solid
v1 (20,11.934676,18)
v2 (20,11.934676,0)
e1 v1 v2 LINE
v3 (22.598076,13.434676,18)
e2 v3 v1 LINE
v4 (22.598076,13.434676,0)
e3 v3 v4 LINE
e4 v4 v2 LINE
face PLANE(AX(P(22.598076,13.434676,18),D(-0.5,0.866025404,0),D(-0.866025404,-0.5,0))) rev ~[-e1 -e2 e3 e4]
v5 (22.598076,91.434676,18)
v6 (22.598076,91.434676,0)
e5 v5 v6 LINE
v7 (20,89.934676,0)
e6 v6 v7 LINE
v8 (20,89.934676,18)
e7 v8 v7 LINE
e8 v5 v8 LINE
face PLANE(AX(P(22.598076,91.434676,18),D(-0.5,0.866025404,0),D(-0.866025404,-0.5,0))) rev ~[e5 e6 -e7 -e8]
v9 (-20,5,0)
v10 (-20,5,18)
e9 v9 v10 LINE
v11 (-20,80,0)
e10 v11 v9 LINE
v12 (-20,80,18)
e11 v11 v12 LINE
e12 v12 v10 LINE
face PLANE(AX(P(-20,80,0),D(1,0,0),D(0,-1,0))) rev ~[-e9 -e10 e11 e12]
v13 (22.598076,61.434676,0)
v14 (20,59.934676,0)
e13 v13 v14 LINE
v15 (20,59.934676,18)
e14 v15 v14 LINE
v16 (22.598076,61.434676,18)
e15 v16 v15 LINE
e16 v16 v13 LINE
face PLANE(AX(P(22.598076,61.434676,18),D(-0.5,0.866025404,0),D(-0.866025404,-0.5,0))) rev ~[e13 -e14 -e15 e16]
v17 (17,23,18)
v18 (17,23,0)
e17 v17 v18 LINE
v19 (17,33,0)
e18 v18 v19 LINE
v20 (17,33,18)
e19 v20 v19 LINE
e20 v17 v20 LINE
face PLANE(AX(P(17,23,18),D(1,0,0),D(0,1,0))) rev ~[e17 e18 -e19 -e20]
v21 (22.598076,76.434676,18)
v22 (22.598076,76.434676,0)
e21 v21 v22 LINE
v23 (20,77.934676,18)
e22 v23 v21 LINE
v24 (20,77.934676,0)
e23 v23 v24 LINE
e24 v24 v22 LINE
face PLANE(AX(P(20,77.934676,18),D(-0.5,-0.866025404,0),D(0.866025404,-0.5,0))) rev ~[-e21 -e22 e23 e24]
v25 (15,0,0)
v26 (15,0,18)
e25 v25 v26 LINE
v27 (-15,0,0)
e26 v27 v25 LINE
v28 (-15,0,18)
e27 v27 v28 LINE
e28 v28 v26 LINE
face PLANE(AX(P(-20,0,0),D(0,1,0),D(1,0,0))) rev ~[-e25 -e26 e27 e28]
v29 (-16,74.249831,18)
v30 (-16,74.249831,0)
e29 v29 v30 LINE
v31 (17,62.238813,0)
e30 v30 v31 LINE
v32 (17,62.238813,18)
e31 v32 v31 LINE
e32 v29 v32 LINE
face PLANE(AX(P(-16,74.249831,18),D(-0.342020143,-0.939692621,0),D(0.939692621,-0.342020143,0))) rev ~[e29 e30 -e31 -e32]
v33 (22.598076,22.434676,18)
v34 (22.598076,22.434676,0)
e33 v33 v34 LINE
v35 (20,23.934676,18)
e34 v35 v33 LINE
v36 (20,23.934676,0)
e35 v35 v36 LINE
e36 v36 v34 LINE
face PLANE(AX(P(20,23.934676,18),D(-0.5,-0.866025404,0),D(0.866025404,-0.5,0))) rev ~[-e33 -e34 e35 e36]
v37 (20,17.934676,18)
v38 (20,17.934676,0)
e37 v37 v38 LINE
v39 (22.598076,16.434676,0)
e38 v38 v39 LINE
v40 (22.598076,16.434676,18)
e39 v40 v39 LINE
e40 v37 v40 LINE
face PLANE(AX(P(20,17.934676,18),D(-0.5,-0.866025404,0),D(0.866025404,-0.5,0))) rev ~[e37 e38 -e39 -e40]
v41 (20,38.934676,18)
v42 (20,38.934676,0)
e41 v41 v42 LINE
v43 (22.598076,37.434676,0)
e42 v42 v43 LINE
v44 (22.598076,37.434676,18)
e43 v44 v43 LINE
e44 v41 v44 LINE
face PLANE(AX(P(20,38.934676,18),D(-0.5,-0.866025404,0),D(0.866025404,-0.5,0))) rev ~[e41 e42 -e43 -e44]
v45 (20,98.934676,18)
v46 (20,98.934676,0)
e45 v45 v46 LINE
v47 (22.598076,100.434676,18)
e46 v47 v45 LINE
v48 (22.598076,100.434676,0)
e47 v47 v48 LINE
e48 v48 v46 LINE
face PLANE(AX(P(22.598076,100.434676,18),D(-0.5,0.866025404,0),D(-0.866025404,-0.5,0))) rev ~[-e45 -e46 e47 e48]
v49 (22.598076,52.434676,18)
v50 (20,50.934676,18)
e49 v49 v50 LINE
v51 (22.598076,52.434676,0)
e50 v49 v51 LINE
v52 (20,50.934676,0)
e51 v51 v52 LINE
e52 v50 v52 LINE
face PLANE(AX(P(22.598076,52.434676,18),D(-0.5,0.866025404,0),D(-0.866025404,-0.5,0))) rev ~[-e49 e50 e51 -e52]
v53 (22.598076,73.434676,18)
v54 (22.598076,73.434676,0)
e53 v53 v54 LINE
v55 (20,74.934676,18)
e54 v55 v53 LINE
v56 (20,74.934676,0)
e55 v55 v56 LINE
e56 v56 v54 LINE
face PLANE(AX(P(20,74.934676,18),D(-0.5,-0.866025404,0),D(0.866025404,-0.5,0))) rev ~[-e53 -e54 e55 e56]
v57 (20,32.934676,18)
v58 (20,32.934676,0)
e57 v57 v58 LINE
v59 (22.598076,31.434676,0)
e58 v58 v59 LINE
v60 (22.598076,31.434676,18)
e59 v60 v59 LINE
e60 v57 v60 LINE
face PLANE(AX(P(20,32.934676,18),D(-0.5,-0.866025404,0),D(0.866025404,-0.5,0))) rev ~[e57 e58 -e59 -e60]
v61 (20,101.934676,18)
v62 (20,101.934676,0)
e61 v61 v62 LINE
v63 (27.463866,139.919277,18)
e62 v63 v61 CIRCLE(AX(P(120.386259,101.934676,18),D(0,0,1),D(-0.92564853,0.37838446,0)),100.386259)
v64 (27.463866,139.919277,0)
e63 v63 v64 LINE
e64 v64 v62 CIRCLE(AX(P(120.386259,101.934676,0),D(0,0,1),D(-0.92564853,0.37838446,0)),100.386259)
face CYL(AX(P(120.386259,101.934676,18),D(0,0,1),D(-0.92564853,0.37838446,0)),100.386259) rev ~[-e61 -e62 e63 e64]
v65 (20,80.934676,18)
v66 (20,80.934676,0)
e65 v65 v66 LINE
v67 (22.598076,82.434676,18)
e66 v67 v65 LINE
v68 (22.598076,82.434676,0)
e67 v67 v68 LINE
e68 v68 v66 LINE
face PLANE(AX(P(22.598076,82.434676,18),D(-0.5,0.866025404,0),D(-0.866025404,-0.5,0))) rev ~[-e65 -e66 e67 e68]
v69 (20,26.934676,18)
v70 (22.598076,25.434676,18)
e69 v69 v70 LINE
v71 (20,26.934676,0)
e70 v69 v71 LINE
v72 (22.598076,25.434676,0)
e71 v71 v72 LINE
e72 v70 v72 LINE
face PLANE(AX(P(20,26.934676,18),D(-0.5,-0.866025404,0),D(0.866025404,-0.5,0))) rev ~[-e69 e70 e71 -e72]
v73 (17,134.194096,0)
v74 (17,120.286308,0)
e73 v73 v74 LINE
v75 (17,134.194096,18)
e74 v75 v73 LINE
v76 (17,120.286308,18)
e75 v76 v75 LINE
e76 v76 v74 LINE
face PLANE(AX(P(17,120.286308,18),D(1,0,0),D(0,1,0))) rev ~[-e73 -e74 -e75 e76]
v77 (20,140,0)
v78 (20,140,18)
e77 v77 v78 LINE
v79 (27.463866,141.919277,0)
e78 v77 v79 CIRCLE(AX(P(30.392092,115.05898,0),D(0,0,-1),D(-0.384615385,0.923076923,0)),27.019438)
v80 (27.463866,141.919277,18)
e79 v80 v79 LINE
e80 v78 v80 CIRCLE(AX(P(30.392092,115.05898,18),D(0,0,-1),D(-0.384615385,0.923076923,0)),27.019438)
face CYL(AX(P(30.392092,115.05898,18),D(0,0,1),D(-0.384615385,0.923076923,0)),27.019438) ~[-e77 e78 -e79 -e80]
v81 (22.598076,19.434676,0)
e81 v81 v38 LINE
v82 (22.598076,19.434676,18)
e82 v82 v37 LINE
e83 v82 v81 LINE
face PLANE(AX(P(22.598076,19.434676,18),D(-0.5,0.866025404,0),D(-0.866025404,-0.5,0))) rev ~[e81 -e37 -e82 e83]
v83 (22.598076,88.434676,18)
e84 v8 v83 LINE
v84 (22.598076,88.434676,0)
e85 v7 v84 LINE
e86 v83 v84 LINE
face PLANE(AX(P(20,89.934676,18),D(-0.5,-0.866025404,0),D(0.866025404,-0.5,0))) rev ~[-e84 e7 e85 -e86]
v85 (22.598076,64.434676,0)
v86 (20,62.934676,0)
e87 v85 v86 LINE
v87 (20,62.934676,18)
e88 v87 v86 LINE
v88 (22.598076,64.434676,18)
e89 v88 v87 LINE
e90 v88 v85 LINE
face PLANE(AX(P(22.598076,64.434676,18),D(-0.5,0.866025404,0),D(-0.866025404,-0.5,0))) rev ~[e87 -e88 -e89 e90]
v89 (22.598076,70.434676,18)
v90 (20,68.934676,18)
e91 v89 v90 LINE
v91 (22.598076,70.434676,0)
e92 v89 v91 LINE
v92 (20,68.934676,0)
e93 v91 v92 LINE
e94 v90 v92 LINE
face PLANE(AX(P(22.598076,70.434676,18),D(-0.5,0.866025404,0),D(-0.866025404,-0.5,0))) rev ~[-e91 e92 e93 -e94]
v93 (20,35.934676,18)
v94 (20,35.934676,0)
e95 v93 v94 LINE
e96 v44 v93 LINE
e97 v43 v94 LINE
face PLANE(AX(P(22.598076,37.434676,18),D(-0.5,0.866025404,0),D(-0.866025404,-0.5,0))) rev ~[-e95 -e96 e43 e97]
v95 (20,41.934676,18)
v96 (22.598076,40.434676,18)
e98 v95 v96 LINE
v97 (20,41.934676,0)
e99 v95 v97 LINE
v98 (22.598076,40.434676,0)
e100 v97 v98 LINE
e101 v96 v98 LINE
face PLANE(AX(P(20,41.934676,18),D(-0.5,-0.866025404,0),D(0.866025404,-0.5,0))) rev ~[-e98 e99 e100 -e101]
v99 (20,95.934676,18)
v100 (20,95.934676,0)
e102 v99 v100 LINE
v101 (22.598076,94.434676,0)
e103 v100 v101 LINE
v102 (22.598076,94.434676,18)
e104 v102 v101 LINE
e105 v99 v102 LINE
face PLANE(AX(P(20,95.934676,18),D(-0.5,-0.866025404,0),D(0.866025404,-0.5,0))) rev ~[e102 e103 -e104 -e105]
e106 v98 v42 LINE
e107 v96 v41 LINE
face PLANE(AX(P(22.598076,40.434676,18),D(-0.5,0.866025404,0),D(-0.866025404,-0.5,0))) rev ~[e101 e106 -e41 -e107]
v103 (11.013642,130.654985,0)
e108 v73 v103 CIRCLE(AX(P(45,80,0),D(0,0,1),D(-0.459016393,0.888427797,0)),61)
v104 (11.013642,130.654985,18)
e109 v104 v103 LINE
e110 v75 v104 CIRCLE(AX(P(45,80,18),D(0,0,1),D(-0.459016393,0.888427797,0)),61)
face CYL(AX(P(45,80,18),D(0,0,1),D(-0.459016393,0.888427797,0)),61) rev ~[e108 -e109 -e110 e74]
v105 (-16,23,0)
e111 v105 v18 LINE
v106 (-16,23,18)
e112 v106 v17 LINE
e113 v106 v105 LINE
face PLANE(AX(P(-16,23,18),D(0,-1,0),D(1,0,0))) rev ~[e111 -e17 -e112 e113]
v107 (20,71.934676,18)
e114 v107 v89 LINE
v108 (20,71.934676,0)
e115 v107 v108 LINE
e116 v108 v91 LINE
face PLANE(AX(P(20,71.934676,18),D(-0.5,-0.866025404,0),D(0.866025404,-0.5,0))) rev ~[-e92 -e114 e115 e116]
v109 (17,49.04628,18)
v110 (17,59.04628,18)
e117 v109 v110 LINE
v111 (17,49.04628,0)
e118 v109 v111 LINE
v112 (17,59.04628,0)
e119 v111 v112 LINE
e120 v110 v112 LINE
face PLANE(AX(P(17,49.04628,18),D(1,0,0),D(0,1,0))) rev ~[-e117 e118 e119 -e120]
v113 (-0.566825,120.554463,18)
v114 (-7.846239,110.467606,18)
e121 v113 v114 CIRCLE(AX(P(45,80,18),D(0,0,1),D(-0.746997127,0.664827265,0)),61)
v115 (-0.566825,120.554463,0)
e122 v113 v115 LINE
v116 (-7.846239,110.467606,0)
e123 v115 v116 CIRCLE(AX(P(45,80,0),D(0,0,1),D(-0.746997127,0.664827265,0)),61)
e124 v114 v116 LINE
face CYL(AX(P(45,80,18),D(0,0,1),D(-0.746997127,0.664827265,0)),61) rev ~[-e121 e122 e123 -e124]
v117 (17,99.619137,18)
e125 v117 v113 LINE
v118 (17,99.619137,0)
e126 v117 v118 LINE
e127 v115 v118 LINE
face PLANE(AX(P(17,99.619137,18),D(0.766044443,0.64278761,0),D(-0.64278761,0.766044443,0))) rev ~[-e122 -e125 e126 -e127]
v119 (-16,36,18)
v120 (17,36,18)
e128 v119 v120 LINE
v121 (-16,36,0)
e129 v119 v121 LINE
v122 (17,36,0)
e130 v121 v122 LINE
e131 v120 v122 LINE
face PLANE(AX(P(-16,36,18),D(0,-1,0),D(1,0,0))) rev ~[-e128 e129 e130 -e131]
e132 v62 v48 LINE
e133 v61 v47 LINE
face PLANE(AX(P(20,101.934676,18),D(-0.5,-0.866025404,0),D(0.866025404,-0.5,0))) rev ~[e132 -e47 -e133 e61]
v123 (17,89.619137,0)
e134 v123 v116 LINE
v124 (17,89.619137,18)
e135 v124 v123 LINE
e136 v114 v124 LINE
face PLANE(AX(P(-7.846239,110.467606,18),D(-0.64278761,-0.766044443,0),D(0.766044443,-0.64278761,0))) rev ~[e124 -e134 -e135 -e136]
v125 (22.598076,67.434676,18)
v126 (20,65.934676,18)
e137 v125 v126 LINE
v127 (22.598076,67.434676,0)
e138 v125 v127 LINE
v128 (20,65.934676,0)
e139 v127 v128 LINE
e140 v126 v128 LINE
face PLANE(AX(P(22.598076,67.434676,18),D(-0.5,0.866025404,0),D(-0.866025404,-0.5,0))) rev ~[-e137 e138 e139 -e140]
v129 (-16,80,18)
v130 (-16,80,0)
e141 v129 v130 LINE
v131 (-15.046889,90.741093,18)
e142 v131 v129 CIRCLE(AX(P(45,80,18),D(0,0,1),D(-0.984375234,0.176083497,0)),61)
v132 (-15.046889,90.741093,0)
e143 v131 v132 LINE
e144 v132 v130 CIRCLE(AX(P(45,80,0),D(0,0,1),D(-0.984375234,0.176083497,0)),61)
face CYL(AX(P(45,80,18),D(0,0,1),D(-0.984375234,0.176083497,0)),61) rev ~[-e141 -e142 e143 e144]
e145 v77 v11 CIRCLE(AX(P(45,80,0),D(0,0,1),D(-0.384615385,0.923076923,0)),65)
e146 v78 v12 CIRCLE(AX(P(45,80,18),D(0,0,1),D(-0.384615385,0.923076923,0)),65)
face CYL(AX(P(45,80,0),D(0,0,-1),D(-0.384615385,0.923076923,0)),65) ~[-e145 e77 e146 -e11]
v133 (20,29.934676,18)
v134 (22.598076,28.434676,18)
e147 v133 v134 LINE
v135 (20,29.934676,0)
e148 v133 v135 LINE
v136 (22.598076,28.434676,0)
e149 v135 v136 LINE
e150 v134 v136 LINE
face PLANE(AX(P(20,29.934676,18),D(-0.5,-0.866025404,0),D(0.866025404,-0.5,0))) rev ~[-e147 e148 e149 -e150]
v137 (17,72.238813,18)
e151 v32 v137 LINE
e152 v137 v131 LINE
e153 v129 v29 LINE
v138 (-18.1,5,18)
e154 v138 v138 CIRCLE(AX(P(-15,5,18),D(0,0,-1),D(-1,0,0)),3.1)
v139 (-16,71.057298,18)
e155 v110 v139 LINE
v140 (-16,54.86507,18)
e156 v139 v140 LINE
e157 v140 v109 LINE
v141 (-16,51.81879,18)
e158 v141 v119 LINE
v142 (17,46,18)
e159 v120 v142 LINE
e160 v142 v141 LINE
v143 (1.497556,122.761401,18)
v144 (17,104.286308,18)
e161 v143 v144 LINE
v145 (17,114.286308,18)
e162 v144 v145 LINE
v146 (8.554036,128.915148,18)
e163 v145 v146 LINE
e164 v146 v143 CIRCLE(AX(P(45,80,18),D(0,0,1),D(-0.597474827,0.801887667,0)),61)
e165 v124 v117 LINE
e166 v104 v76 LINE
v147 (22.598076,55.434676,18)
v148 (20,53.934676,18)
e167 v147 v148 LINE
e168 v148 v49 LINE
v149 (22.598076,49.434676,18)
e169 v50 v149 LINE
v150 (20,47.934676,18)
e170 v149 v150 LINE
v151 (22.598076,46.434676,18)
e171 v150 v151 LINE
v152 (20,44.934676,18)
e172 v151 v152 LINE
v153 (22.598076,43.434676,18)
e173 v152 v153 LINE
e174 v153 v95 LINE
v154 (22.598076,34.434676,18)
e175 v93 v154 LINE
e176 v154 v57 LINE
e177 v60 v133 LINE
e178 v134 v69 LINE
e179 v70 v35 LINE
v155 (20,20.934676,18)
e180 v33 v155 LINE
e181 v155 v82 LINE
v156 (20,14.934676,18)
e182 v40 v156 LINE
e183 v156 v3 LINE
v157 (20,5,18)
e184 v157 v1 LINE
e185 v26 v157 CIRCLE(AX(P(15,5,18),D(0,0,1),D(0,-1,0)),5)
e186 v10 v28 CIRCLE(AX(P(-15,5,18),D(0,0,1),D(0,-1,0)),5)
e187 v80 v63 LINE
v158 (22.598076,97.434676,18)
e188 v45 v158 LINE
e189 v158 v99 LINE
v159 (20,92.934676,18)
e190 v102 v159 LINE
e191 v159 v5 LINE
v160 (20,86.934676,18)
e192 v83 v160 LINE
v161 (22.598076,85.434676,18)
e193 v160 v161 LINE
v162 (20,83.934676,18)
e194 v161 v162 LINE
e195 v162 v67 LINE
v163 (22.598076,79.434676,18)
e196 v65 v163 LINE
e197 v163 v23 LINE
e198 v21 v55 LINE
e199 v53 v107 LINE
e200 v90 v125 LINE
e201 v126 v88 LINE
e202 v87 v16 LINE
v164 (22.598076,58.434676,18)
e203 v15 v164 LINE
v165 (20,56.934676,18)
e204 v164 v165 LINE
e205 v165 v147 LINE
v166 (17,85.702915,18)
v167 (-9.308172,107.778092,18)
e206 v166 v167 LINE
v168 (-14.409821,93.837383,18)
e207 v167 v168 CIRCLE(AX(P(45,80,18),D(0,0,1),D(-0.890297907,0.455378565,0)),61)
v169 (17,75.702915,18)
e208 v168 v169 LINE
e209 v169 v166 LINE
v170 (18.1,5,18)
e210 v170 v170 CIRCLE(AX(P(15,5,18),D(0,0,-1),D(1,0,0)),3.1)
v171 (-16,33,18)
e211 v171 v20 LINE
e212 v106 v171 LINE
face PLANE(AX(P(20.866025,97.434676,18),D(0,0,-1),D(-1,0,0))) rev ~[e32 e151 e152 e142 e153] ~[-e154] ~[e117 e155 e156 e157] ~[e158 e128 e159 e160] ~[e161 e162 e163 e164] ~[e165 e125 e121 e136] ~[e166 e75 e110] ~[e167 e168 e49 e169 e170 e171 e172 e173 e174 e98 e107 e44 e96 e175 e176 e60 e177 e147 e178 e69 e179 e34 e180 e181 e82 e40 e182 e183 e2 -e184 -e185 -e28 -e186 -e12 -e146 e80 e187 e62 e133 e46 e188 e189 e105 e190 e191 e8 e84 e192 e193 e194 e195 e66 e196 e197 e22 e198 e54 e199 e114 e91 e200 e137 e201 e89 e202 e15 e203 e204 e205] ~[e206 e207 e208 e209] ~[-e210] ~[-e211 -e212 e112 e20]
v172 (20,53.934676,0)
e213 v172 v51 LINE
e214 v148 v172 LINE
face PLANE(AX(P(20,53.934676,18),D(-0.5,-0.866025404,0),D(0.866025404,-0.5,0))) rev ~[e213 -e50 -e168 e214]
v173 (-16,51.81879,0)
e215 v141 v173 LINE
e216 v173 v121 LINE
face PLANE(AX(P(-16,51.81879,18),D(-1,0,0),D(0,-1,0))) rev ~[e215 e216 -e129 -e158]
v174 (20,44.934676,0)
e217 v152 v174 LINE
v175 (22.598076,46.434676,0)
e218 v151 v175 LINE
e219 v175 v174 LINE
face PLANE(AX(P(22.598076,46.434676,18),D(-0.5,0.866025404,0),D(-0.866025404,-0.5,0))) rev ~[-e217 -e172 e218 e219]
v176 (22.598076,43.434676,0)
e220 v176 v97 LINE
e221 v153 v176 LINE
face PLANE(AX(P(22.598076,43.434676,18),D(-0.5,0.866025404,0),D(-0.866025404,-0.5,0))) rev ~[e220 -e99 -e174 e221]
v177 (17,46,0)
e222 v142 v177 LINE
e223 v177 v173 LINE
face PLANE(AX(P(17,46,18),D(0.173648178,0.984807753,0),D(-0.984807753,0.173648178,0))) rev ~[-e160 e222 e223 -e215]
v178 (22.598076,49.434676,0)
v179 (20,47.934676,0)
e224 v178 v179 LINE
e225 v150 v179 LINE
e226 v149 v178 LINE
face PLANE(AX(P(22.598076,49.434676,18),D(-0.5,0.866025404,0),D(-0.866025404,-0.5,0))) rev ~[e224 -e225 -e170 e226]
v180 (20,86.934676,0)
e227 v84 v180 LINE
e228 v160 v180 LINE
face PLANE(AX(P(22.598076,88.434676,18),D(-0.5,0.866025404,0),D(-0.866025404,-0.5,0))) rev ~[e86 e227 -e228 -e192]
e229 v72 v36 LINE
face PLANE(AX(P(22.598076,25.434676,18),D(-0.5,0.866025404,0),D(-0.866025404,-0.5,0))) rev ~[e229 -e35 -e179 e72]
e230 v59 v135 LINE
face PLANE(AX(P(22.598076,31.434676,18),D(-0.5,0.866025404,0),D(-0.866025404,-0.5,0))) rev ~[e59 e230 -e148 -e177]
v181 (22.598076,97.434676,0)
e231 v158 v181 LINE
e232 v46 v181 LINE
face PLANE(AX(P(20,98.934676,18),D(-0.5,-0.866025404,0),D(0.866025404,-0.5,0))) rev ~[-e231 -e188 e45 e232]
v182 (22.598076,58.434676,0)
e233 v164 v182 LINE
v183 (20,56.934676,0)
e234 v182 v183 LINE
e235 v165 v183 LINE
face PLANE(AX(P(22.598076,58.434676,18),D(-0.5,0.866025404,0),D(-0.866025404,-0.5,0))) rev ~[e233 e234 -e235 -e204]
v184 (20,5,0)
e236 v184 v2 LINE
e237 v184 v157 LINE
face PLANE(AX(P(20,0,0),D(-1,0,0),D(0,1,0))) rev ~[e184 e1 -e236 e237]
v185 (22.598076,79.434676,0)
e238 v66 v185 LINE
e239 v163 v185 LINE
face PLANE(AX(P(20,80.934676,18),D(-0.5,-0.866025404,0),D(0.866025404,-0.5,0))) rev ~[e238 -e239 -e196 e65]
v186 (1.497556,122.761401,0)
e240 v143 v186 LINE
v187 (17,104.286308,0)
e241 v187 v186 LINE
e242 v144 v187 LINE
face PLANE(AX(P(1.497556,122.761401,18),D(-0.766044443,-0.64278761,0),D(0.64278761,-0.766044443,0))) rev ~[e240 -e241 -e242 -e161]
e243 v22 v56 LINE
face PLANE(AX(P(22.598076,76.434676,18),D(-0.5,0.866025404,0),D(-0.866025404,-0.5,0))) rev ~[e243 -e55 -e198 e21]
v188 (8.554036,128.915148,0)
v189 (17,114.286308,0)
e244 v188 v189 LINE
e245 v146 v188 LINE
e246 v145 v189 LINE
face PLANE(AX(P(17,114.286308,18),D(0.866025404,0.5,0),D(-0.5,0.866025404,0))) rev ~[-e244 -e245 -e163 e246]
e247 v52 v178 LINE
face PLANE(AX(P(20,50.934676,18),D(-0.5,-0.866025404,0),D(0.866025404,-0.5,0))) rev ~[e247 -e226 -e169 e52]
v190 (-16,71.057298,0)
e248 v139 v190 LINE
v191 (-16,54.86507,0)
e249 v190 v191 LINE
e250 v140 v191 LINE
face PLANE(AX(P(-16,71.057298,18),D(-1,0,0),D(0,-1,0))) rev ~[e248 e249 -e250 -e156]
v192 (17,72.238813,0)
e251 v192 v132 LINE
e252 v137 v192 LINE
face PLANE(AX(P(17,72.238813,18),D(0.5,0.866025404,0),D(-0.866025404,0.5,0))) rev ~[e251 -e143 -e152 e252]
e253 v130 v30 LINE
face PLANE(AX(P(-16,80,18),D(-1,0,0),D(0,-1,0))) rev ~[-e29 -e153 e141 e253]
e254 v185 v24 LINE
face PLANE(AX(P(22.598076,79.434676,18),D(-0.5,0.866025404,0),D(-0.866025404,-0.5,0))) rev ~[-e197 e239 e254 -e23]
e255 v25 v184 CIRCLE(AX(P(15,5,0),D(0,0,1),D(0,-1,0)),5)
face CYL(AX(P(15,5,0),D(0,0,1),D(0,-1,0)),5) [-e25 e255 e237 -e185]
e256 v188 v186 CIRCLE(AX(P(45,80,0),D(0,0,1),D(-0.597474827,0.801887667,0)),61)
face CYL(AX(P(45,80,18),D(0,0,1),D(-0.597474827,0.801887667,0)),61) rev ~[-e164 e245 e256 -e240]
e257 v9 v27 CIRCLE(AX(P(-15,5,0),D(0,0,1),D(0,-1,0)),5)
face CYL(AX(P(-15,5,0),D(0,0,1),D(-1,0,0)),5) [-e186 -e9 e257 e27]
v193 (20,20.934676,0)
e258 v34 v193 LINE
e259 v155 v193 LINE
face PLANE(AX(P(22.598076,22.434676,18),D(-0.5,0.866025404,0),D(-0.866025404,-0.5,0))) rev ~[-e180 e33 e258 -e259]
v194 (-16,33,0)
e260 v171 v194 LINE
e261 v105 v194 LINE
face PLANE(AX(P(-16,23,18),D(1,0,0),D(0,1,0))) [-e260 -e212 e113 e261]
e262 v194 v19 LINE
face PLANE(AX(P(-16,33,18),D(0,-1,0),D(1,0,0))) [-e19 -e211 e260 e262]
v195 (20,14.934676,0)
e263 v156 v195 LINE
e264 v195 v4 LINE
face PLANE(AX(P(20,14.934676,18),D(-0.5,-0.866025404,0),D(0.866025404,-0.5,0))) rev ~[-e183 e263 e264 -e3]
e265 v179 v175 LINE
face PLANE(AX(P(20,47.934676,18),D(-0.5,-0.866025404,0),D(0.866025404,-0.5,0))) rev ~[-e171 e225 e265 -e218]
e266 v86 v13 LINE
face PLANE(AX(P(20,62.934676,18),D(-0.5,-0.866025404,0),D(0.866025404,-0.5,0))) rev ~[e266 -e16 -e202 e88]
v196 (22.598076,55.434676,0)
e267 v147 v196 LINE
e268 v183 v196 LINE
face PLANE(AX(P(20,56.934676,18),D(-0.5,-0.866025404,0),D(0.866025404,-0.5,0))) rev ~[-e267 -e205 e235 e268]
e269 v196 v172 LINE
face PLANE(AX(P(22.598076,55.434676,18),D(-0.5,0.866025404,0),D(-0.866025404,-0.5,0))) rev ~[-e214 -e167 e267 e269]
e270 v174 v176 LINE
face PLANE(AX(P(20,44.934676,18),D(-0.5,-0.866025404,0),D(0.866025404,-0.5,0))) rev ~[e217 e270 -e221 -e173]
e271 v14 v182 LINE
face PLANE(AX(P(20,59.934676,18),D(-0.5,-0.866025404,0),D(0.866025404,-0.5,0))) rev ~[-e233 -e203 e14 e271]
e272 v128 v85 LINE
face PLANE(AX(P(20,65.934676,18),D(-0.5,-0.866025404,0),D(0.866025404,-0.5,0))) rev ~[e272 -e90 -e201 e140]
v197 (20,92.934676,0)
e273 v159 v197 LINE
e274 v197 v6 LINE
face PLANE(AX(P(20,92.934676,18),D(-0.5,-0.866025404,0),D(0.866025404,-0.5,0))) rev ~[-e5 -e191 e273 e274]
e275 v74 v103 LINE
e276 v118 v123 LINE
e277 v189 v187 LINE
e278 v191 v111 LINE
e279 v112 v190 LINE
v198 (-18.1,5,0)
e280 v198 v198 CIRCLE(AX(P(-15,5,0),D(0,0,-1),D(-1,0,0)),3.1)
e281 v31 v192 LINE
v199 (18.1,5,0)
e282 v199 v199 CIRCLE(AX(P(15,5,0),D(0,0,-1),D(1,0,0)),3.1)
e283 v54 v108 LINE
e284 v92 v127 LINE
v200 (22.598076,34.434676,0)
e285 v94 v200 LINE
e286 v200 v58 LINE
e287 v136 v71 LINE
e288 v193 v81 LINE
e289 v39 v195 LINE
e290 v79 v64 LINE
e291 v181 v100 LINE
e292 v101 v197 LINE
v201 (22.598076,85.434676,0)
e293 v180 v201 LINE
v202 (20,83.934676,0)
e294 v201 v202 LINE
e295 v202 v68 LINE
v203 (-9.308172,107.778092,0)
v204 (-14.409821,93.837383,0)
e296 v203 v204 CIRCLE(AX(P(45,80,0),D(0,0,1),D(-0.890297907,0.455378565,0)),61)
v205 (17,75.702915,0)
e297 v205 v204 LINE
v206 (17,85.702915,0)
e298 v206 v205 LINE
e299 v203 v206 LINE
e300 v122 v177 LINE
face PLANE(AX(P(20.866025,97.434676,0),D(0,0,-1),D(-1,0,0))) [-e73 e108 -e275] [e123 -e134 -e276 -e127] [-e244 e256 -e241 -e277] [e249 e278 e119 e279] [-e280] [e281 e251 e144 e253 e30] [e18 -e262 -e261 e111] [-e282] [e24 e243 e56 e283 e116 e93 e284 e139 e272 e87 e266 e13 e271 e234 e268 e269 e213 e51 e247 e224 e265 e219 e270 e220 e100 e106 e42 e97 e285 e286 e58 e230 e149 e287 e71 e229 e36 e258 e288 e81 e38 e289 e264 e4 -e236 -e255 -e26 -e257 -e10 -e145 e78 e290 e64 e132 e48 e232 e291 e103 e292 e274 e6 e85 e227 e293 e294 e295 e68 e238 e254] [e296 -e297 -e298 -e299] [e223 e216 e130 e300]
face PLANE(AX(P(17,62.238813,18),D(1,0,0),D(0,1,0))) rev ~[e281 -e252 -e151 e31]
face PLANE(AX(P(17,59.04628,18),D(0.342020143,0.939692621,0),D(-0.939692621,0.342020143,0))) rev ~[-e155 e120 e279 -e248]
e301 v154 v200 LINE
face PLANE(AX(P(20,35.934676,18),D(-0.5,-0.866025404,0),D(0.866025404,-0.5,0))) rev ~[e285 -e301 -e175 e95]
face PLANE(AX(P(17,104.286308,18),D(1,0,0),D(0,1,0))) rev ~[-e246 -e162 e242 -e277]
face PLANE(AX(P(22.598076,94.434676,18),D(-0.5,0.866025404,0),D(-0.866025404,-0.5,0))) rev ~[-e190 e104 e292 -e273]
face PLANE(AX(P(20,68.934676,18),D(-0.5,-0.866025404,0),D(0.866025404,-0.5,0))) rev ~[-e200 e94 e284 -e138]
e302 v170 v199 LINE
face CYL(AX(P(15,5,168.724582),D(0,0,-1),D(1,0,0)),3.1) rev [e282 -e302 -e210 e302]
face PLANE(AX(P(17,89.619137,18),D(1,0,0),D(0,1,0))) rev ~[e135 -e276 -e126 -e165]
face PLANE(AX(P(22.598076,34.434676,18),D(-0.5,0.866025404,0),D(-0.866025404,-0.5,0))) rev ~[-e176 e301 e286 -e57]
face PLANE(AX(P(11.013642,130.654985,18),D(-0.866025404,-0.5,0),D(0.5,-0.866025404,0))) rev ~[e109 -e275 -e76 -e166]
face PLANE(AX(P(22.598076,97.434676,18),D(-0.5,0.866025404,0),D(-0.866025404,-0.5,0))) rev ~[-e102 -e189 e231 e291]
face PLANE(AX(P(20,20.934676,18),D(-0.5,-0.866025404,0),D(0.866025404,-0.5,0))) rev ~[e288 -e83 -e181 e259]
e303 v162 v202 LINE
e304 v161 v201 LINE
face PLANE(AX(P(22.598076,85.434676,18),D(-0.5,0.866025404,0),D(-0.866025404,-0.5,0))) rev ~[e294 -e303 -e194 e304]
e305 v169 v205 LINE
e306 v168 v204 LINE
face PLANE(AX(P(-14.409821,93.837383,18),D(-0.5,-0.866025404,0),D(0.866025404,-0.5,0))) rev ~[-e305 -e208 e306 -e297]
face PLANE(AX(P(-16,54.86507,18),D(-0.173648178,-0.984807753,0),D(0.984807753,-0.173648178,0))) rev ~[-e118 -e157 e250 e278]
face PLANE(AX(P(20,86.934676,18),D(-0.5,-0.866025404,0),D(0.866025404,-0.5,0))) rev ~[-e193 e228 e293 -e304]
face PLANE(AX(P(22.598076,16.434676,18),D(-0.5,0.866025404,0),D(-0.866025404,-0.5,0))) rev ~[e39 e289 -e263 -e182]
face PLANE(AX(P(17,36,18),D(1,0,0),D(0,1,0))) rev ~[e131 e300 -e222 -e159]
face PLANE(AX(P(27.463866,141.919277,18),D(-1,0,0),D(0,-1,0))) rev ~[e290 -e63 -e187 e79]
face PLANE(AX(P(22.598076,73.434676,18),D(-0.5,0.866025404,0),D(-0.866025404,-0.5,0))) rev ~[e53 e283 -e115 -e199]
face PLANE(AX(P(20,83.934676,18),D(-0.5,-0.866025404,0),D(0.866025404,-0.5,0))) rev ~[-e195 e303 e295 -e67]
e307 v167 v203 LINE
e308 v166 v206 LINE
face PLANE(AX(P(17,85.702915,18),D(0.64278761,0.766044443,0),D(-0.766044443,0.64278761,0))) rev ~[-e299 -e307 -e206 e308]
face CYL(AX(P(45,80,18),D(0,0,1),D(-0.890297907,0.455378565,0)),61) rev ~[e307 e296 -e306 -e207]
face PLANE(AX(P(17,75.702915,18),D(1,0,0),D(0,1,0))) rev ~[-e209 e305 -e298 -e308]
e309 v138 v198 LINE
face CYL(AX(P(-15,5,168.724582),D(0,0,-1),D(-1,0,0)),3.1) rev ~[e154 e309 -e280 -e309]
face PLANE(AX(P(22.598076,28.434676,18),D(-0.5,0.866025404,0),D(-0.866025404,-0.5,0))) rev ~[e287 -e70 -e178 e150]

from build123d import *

# Parameters (mm, degrees)
BOSS_EXTRUDE1_DEPTH     = 18
SKETCH3_W               = 33
SKETCH3_H               = 10
CUT_EXTRUDE1_DEPTH      = 143.562267098
CUT_EXTRUDE2_DEPTH      = 143.562267098
CUT_EXTRUDE3_DEPTH      = 143.562267098
CUT_EXTRUDE4_DEPTH      = 143.562267098
BOSS_EXTRUDE2_DEPTH     = 18
BOSS_EXTRUDE3_DEPTH     = 18
LPATTERN1_COUNT         = 30
LPATTERN1_PITCH         = 3
CUT_EXTRUDE5_DEPTH      = 146.668613805
CUT_EXTRUDE6_DEPTH      = 146.668613805
CUT_EXTRUDE7_DEPTH      = 146.668613805
CUT_EXTRUDE8_DEPTH      = 146.668613805
FILLET1_R               = 5
F_6_0_MM_DOWEL_HOLES1_D = 6.2


with BuildPart() as part:
    # Sketch2 → Boss-Extrude1 (new body)
    with BuildSketch(Plane.XY):
        with BuildLine():
            Line((-20, 0), (20, 0))
            Line((20, 0), (20, 140))
            ThreePointArc((20, 140), (-9.083269132, 116.055512755), (-20, 80))
            Line((-20, 80), (-20, 0))
        make_face()
    extrude(amount=BOSS_EXTRUDE1_DEPTH)

    # Sketch3 → Cut-Extrude1 (cut, through all)
    with BuildSketch(Plane.XY.offset(18)):
        with Locations((0.5, 28)):
            Rectangle(SKETCH3_W, SKETCH3_H)
    extrude(amount=-CUT_EXTRUDE1_DEPTH, mode=Mode.SUBTRACT)

    # Sketch4 → Cut-Extrude2 (cut, through all)
    with BuildSketch(Plane.XY.offset(18)):
        Polygon((-16, 36), (17, 36), (17, 46), (-16, 51.818790363), align=None)
    extrude(amount=-CUT_EXTRUDE2_DEPTH, mode=Mode.SUBTRACT)

    # Sketch5 → Cut-Extrude3 (cut, through all)
    with BuildSketch(Plane.XY.offset(18)):
        Polygon((-16, 54.865070199), (17, 49.046279836), (17, 59.046279836), (-16, 71.057297566), align=None)
    extrude(amount=-CUT_EXTRUDE3_DEPTH, mode=Mode.SUBTRACT)

    # Sketch6 → Cut-Extrude4 (cut, through all)
    with BuildSketch(Plane.XY.offset(18)):
        with BuildLine():
            Line((-16, 74.249830884), (17, 62.238813153))
            Line((17, 62.238813153), (17, 72.238813153))
            Line((17, 72.238813153), (-15.046889298, 90.741093316))
            ThreePointArc((-15.046889298, 90.741093316), (-15.761255119, 85.391648765), (-16, 80))
            Line((-16, 80), (-16, 74.249830884))
        make_face()
    extrude(amount=-CUT_EXTRUDE4_DEPTH, mode=Mode.SUBTRACT)

    # Sketch13 → Boss-Extrude2 (add)
    with BuildSketch(Plane.XY.offset(18)):
        with BuildLine():
            Line((27.463865989, 141.919276749), (27.463865989, 139.919276749))
            ThreePointArc((27.463865989, 139.919276749), (21.883638711, 121.290161062), (20, 101.934676234))
            Line((20, 101.934676234), (20, 140))
            ThreePointArc((20, 140), (23.663152719, 141.227117654), (27.463865989, 141.919276749))
        make_face()
    extrude(amount=-BOSS_EXTRUDE2_DEPTH)

    # Sketch15 → Boss-Extrude3 (add)
    with BuildSketch(Plane.XY.offset(18)):
        Polygon((20, 101.934676234), (22.598076211, 100.434676234), (20, 98.934676234), align=None)
    boss_extrude3 = extrude(amount=-BOSS_EXTRUDE3_DEPTH)

    # LPattern1: Boss-Extrude3 ×30
    with Locations(*[(0, -i * LPATTERN1_PITCH, 0) for i in range(1, LPATTERN1_COUNT)]):
        add(boss_extrude3)

    # Sketch17 → Cut-Extrude5 (cut, through all)
    with BuildSketch(Plane.XY.offset(18)):
        with BuildLine():
            Line((-14.409820926, 93.837383335), (17, 75.702914768))
            Line((17, 75.702914768), (17, 85.702914768))
            Line((17, 85.702914768), (-9.308172311, 107.778092451))
            ThreePointArc((-9.308172311, 107.778092451), (-12.284651864, 100.963507838), (-14.409820926, 93.837383335))
        make_face()
    extrude(amount=-CUT_EXTRUDE5_DEPTH, mode=Mode.SUBTRACT)

    # Sketch18 → Cut-Extrude6 (cut, through all)
    with BuildSketch(Plane.XY.offset(18)):
        with BuildLine():
            Line((-7.846238812, 110.46760646), (17, 89.619136636))
            Line((17, 89.619136636), (17, 99.619136636))
            Line((17, 99.619136636), (-0.566824758, 120.554463152))
            ThreePointArc((-0.566824758, 120.554463152), (-4.464319866, 115.697073553), (-7.846238812, 110.46760646))
        make_face()
    extrude(amount=-CUT_EXTRUDE6_DEPTH, mode=Mode.SUBTRACT)

    # Sketch19 → Cut-Extrude7 (cut, through all)
    with BuildSketch(Plane.XY.offset(18)):
        with BuildLine():
            Line((1.497556464, 122.761400894), (17, 104.286308117))
            Line((17, 104.286308117), (17, 114.286308117))
            Line((17, 114.286308117), (8.554035532, 128.915147695))
            ThreePointArc((8.554035532, 128.915147695), (4.907555132, 125.973860666), (1.497556464, 122.761400894))
        make_face()
    extrude(amount=-CUT_EXTRUDE7_DEPTH, mode=Mode.SUBTRACT)

    # Sketch21 → Cut-Extrude8 (cut, through all)
    with BuildSketch(Plane.XY.offset(18)):
        with BuildLine():
            Line((11.013641865, 130.654984559), (17, 120.286308117))
            Line((17, 120.286308117), (17, 134.194095619))
            ThreePointArc((17, 134.194095619), (13.956345649, 132.509918344), (11.013641865, 130.654984559))
        make_face()
    extrude(amount=-CUT_EXTRUDE8_DEPTH, mode=Mode.SUBTRACT)

    # Fillet1
    fillet1_edges = [part.edges().sort_by_distance(p)[0] for p in [
        (20, 0, 9),
        (-20, 0, 9),
    ]]
    fillet(fillet1_edges, radius=FILLET1_R)

    # Ø6.0 mm Dowel Holes1 (through all)
    with Locations(Plane.XY.offset(18)):
        with Locations((-15, 5)):
            f_6_0_mm_dowel_holes1 = Hole(F_6_0_MM_DOWEL_HOLES1_D / 2)

    # Mirror1: Ø6.0 mm Dowel Holes1 across plane
    add(f_6_0_mm_dowel_holes1.mirror(Plane(origin=(0, 0, 0), x_dir=(0, 0, 1), z_dir=(1, 0, 0))), mode=Mode.SUBTRACT)


solid = part.part
